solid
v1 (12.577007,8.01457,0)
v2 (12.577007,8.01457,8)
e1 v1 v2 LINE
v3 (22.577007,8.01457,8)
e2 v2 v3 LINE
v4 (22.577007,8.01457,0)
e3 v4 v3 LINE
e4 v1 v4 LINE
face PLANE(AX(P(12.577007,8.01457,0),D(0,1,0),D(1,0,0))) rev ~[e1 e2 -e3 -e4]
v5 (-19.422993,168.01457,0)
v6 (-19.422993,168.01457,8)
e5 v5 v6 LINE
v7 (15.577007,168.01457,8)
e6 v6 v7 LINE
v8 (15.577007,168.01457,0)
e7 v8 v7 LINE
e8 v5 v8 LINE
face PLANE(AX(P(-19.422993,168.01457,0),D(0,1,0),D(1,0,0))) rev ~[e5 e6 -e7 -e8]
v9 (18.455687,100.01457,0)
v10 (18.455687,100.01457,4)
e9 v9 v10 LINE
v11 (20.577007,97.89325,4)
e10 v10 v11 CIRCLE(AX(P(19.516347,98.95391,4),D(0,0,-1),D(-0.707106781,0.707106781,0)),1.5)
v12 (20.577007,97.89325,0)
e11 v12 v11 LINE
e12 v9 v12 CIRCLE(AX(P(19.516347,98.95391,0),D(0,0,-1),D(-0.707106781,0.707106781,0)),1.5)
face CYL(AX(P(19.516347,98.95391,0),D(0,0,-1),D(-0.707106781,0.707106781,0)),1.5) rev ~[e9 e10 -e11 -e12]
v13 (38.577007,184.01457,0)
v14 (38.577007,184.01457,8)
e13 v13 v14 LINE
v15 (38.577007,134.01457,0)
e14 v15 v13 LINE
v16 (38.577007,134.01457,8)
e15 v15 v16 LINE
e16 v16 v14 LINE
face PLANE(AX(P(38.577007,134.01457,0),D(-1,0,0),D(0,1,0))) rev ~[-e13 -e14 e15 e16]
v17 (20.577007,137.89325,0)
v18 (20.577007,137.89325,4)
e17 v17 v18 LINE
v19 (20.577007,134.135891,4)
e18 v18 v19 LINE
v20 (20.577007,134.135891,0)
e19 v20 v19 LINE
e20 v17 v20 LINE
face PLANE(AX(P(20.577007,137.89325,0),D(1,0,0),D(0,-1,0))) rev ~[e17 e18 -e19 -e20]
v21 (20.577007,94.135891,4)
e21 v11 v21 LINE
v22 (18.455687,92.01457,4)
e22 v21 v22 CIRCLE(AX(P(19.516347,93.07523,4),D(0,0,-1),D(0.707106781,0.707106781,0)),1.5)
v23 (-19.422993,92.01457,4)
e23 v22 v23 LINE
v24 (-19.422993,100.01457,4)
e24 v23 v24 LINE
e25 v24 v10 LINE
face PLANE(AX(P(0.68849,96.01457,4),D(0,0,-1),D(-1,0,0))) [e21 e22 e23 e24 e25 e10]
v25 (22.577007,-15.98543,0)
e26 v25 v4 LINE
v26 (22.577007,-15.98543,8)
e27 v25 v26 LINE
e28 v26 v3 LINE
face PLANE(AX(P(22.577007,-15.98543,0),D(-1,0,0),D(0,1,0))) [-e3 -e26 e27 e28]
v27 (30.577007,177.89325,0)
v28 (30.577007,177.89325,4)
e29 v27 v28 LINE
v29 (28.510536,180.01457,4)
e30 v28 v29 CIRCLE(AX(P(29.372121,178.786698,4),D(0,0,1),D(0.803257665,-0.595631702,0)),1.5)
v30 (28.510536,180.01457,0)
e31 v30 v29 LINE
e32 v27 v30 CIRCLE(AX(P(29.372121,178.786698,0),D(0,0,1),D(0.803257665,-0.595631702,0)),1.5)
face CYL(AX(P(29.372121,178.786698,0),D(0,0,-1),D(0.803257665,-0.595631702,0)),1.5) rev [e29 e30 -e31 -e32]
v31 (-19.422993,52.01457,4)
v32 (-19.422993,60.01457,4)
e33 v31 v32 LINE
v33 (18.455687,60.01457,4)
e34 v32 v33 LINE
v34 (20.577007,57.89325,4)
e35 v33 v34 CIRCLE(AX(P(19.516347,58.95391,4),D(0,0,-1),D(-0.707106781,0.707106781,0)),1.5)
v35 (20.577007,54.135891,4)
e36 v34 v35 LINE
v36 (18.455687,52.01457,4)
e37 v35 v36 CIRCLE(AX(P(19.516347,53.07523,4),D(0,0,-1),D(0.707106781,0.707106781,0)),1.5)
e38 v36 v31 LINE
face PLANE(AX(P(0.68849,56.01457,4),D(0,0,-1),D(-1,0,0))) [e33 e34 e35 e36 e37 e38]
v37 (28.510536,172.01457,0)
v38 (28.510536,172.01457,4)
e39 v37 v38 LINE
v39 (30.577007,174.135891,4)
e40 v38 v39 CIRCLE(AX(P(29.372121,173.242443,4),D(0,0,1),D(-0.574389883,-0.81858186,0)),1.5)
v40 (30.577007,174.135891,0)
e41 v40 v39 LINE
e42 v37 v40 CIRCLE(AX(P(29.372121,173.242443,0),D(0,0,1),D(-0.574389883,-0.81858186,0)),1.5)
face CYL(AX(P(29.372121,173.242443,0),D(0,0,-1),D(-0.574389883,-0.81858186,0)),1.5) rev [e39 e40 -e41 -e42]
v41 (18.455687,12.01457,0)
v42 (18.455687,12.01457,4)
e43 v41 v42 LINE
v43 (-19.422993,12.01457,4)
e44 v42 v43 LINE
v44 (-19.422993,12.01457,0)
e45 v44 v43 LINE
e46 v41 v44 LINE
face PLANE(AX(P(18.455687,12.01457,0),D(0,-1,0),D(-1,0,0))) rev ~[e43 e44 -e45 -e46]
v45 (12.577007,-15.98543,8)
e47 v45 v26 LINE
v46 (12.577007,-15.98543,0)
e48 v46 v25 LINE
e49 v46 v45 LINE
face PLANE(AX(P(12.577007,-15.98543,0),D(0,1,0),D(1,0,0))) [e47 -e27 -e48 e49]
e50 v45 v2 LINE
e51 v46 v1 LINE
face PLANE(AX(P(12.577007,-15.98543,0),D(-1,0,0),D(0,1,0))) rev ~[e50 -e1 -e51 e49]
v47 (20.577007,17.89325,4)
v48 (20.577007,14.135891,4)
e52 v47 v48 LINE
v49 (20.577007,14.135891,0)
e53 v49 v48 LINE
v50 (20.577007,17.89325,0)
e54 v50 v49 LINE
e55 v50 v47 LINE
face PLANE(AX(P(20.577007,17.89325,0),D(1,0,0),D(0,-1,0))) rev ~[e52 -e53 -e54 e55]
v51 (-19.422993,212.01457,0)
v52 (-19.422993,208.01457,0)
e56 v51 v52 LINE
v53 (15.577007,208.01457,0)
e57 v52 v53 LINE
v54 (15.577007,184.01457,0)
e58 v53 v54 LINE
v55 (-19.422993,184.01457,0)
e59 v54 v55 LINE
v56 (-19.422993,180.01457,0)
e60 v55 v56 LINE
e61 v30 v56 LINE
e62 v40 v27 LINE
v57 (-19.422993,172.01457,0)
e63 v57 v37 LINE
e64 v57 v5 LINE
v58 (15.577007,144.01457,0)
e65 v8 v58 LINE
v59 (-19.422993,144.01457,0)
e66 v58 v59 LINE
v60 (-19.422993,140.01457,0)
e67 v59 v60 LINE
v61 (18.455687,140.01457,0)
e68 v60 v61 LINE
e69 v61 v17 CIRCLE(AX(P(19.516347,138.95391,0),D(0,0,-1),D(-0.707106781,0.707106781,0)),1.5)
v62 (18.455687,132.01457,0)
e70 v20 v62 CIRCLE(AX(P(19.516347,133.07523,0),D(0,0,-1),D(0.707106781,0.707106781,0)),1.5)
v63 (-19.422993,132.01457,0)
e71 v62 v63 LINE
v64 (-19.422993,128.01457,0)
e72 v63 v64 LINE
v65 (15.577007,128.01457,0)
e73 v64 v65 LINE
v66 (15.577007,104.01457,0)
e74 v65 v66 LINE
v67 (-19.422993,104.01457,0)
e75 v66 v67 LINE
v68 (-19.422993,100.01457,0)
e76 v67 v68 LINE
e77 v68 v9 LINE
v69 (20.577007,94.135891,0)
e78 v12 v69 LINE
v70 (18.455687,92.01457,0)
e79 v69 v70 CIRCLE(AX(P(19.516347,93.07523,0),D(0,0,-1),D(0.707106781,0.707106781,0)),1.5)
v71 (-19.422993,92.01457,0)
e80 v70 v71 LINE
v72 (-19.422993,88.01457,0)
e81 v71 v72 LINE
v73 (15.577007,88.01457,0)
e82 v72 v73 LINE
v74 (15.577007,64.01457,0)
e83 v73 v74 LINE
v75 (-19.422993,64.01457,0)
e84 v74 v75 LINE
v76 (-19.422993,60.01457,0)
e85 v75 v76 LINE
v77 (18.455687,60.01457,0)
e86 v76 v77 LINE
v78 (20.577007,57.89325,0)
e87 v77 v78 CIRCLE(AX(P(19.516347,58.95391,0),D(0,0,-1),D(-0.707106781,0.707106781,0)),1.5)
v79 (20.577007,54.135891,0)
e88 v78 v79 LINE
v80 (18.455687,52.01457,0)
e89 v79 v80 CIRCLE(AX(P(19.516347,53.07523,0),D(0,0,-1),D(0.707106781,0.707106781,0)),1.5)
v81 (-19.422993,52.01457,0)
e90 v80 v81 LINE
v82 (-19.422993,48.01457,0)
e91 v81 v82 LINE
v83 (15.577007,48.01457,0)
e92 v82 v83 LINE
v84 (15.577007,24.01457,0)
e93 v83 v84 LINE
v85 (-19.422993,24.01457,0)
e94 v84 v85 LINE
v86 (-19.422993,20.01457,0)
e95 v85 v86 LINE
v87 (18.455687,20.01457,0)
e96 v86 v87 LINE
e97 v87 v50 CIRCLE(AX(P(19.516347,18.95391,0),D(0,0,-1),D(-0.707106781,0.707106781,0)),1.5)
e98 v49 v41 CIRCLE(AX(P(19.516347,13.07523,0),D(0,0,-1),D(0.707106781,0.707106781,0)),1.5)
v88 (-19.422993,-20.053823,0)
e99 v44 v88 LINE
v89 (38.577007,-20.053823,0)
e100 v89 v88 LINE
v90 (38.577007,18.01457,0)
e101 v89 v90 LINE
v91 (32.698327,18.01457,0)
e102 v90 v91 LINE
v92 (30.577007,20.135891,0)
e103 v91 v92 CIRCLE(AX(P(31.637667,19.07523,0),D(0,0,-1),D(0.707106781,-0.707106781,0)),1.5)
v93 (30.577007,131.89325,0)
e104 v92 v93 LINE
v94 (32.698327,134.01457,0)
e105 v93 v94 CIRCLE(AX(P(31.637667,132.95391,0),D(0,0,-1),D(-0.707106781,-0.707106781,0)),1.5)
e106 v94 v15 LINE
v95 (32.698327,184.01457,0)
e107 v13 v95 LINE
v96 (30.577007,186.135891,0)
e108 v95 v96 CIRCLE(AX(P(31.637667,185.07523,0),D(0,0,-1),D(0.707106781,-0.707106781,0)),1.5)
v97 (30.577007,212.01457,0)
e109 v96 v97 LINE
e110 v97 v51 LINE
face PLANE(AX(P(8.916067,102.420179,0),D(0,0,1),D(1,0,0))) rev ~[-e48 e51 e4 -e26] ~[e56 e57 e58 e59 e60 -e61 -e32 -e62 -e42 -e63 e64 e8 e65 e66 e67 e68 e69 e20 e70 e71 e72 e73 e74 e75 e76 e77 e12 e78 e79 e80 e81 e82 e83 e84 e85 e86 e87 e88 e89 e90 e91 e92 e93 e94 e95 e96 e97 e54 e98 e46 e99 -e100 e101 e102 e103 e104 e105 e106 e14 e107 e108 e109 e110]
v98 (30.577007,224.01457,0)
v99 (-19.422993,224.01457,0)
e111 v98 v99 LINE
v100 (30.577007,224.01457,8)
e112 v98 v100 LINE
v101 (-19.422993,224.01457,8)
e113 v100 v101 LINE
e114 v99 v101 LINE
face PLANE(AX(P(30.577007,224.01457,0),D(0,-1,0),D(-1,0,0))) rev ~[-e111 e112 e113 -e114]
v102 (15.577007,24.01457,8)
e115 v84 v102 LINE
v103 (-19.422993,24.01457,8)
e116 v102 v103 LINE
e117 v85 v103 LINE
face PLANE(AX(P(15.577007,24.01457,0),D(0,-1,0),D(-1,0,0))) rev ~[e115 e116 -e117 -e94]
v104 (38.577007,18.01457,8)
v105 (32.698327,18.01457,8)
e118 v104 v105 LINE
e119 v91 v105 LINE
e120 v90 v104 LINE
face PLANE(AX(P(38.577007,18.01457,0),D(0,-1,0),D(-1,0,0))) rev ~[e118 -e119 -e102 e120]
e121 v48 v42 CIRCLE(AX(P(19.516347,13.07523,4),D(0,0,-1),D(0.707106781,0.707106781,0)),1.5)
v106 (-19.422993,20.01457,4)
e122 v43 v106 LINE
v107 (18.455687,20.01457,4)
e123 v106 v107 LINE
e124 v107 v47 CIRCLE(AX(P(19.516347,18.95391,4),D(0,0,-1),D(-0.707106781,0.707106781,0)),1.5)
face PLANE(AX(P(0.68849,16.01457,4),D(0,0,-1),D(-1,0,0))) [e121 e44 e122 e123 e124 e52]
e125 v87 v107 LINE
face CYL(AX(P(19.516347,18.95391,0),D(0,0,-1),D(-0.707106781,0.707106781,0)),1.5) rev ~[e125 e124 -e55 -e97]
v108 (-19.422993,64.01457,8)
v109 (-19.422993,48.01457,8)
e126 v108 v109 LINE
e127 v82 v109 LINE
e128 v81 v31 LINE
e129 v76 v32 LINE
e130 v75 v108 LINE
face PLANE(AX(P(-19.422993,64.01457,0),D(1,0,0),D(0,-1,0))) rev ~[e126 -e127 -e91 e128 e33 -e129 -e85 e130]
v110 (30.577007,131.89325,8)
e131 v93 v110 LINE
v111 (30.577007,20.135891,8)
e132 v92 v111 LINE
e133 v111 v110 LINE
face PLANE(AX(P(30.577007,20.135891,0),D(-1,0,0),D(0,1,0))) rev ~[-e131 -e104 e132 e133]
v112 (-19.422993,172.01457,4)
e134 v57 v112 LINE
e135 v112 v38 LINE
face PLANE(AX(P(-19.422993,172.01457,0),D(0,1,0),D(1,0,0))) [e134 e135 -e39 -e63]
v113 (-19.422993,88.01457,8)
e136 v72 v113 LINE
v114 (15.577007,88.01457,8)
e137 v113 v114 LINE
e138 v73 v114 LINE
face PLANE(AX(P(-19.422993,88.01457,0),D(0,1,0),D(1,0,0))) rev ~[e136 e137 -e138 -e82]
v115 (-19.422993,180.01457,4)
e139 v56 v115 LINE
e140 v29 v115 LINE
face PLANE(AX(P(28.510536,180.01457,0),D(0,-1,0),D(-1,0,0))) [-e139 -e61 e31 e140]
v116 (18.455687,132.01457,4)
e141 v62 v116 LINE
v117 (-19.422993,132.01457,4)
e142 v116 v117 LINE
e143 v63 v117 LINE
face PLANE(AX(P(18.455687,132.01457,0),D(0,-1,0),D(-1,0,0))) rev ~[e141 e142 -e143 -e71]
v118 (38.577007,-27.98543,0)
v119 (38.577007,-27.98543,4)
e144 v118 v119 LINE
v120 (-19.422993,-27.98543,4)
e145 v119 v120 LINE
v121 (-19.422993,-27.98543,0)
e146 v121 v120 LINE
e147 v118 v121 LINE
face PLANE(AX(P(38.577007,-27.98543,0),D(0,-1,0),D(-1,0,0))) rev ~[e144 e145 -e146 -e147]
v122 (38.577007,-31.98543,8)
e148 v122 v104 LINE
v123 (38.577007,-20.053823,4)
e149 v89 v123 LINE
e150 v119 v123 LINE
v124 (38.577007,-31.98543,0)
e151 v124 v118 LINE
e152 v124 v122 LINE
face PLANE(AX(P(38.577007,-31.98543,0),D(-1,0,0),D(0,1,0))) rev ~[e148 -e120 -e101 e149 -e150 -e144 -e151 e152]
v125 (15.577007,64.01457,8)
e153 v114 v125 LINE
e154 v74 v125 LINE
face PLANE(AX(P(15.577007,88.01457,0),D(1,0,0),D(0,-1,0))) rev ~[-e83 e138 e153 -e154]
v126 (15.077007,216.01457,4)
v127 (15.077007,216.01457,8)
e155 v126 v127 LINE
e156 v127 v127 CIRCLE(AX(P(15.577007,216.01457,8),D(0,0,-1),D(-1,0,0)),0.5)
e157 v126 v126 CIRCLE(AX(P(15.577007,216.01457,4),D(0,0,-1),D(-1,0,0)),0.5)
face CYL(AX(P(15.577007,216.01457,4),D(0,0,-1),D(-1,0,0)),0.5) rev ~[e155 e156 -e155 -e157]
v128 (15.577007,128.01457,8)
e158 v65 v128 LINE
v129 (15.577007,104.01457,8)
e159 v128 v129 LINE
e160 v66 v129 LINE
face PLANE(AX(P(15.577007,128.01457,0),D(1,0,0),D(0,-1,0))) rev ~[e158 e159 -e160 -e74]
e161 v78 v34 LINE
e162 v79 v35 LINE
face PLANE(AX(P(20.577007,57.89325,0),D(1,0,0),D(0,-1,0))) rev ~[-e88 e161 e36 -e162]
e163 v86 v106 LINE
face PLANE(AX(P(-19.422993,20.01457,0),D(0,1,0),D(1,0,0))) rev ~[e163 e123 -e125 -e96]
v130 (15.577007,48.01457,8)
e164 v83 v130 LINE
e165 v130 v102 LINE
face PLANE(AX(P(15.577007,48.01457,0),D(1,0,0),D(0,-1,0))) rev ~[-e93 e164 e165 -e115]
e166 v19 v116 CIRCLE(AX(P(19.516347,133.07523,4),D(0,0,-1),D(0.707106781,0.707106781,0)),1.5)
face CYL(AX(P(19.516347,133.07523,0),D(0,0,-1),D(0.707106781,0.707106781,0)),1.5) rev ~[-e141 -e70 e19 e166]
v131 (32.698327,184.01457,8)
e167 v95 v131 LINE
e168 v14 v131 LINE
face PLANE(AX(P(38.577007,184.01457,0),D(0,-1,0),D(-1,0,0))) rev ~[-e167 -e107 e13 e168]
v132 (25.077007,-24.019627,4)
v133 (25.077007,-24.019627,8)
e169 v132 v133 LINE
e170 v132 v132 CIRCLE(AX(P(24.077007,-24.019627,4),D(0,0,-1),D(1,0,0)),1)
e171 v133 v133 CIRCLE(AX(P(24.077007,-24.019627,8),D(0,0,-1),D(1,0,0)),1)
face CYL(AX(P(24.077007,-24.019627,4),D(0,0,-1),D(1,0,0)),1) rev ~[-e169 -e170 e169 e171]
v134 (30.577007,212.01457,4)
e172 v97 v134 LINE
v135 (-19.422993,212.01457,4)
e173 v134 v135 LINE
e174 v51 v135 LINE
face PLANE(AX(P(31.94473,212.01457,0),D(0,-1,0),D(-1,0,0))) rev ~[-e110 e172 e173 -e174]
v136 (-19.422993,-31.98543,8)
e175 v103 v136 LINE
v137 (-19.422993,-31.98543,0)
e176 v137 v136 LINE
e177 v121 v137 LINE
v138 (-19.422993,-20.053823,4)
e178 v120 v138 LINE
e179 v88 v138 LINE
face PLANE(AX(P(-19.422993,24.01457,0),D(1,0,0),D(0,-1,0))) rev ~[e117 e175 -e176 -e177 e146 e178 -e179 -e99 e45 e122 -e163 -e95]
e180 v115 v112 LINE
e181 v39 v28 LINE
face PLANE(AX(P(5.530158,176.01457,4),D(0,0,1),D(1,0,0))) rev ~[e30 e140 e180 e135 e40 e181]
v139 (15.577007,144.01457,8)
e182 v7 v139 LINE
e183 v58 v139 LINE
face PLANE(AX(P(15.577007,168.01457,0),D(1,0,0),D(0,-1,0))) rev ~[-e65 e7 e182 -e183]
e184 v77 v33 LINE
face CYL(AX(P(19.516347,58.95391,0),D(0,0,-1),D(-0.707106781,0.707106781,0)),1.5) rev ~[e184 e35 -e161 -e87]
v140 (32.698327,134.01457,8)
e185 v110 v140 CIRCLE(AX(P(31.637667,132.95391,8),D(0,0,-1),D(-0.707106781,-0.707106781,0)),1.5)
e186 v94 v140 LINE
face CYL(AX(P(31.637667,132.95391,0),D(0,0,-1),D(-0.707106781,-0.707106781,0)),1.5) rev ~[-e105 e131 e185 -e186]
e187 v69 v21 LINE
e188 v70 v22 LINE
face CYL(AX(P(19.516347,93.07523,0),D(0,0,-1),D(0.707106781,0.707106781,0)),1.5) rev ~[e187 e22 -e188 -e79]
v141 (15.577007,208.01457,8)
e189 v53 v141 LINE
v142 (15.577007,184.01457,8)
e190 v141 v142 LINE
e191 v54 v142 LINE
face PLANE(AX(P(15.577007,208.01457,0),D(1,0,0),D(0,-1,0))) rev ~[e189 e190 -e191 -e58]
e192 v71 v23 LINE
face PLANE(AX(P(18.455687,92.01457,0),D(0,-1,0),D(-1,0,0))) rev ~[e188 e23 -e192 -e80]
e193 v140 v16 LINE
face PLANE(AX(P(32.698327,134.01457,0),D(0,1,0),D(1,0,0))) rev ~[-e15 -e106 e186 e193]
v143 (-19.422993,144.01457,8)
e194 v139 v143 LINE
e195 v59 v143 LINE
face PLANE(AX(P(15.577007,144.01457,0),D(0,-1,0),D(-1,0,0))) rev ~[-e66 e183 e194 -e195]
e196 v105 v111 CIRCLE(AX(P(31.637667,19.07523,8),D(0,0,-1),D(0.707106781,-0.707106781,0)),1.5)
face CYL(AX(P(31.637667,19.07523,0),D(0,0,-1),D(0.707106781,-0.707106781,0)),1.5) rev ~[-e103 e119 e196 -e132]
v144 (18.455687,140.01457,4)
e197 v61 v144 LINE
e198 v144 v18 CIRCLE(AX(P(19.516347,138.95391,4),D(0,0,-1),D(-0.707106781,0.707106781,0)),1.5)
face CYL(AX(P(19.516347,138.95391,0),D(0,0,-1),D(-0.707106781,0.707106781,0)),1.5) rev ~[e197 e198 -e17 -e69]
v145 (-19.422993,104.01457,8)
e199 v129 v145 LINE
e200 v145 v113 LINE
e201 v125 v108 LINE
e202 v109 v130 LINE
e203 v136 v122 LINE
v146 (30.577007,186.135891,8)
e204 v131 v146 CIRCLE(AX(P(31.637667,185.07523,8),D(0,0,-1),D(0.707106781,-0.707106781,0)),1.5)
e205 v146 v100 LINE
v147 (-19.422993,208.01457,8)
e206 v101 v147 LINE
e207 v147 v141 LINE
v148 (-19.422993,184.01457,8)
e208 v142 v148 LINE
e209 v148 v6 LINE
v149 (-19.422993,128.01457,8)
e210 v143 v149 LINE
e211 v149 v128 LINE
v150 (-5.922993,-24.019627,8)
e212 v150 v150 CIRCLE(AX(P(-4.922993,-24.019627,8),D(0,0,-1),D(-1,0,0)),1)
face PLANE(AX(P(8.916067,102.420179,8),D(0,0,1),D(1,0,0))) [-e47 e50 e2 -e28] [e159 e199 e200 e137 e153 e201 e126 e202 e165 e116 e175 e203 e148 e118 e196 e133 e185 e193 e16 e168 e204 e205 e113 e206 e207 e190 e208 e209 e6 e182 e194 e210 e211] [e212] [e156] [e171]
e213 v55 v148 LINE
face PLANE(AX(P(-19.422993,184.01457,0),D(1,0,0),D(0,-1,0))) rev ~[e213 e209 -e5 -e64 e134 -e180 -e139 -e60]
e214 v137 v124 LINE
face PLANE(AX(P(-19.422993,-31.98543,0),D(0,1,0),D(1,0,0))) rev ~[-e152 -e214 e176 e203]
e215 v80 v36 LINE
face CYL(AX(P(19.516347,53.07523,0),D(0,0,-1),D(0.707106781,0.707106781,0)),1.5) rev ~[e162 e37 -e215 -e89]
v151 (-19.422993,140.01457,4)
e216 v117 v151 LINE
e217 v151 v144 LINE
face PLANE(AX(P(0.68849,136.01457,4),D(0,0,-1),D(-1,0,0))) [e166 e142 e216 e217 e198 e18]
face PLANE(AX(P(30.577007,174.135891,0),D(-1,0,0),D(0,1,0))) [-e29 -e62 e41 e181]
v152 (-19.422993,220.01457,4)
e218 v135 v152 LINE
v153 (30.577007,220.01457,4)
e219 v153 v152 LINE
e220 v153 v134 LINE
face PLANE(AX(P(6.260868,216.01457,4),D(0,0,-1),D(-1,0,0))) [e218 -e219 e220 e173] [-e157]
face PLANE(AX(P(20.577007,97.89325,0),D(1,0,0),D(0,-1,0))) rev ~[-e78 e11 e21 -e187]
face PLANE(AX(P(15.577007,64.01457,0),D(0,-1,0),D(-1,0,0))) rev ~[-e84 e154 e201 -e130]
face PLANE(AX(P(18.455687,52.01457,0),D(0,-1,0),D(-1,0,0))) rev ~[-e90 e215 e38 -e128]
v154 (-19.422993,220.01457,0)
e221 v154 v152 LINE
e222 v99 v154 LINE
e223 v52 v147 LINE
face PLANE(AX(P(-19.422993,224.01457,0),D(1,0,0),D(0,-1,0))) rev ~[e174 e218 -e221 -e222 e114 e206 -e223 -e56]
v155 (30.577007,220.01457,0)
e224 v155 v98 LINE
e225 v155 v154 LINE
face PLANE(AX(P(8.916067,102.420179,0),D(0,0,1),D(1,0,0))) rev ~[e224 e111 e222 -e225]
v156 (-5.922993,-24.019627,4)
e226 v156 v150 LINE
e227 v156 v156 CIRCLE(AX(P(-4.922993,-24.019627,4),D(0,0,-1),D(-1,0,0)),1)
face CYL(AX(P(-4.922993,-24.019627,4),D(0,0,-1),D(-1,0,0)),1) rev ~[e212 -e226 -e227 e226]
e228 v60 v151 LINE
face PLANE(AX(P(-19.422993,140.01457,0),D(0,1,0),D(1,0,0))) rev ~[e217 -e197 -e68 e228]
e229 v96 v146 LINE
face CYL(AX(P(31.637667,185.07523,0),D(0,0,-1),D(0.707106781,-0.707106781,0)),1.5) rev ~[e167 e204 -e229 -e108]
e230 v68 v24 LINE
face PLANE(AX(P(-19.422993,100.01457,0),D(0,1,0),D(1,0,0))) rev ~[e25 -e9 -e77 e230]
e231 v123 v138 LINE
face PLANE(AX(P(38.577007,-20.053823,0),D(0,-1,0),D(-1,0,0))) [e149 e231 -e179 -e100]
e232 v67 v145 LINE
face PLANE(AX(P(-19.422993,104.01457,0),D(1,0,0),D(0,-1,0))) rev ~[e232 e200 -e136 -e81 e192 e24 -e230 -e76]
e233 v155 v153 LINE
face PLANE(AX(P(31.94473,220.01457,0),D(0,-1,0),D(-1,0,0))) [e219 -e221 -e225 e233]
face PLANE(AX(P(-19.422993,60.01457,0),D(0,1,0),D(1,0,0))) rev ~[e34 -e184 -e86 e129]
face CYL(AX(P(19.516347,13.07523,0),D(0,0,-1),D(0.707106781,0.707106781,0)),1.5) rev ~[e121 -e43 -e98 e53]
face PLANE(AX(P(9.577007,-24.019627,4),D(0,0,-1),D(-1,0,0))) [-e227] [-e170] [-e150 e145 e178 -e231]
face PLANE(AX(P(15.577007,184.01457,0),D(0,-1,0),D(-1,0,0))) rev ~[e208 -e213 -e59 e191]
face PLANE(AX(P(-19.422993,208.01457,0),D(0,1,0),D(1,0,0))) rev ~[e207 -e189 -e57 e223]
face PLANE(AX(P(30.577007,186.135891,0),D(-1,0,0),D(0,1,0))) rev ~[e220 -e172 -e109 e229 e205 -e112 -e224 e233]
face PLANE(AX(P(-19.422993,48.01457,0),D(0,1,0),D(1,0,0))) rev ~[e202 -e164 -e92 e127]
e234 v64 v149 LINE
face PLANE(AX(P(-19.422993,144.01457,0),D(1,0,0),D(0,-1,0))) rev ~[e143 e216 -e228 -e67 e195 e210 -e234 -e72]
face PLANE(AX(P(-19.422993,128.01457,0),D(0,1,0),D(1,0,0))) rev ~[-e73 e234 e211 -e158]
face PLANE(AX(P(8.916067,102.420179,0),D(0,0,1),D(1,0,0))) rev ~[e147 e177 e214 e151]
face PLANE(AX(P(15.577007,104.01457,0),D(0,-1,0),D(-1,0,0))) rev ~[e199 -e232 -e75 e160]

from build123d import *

# Parameters (mm, degrees)
ESQUISSE1_W             = 10
ESQUISSE1_H             = 24
BOSS_EXTRU_1_DEPTH      = 8
ESQUISSE2_W             = 51.367722688
ESQUISSE2_H             = 8
ESQUISSE2_W_2           = 58
ESQUISSE2_H_2           = 7.931606273
ENL_V_MAT_EXTRU_1_DEPTH = 4
ESQUISSE3_R             = 0.5
ESQUISSE3_R_2           = 1
ENL_V_MAT_EXTRU_2_DEPTH = 4


with BuildPart() as part:
    # Esquisse1 → Boss.-Extru.1 (new body)
    with BuildSketch(Plane.XY):
        with BuildLine():
            Line((30.577007139, 186.135890651), (30.577007139, 224.014570308))
            Line((30.577007139, 224.014570308), (-19.422992861, 224.014570308))
            Line((-19.422992861, 224.014570308), (-19.422992861, 208.014570308))
            Line((-19.422992861, 208.014570308), (15.577007139, 208.014570308))
            Line((15.577007139, 208.014570308), (15.577007139, 184.014570308))
            Line((15.577007139, 184.014570308), (-19.422992861, 184.014570308))
            Line((-19.422992861, 184.014570308), (-19.422992861, 168.014570308))
            Line((-19.422992861, 168.014570308), (15.577007139, 168.014570308))
            Line((15.577007139, 168.014570308), (15.577007139, 144.014570308))
            Line((15.577007139, 144.014570308), (-19.422992861, 144.014570308))
            Line((-19.422992861, 144.014570308), (-19.422992861, 128.014570308))
            Line((-19.422992861, 128.014570308), (15.577007139, 128.014570308))
            Line((15.577007139, 128.014570308), (15.577007139, 104.014570308))
            Line((15.577007139, 104.014570308), (-19.422992861, 104.014570308))
            Line((-19.422992861, 104.014570308), (-19.422992861, 88.014570308))
            Line((-19.422992861, 88.014570308), (15.577007139, 88.014570308))
            Line((15.577007139, 88.014570308), (15.577007139, 64.014570308))
            Line((15.577007139, 64.014570308), (-19.422992861, 64.014570308))
            Line((-19.422992861, 64.014570308), (-19.422992861, 48.014570308))
            Line((-19.422992861, 48.014570308), (15.577007139, 48.014570308))
            Line((15.577007139, 48.014570308), (15.577007139, 24.014570308))
            Line((15.577007139, 24.014570308), (-19.422992861, 24.014570308))
            Line((-19.422992861, 24.014570308), (-19.422992861, -31.985429692))
            Line((-19.422992861, -31.985429692), (30.577007139, -31.985429692))
            Line((30.577007139, -31.985429692), (38.577007139, -31.985429692))
            Line((38.577007139, -31.985429692), (38.577007139, 18.014570308))
            Line((38.577007139, 18.014570308), (32.698327483, 18.014570308))
            ThreePointArc((32.698327483, 18.014570308), (30.577007139, 18.014570308), (30.577007139, 20.135890651))
            Line((30.577007139, 20.135890651), (30.577007139, 131.893249964))
            ThreePointArc((30.577007139, 131.893249964), (30.577007139, 134.014570308), (32.698327483, 134.014570308))
            Line((32.698327483, 134.014570308), (38.577007139, 134.014570308))
            Line((38.577007139, 134.014570308), (38.577007139, 184.014570308))
            Line((38.577007139, 184.014570308), (32.698327483, 184.014570308))
            ThreePointArc((32.698327483, 184.014570308), (30.577007139, 184.014570308), (30.577007139, 186.135890651))
        make_face()
        with Locations((17.577007139, -3.985429692)):
            Rectangle(ESQUISSE1_W, ESQUISSE1_H, mode=Mode.SUBTRACT)
    extrude(amount=BOSS_EXTRU_1_DEPTH)

    # Esquisse2 → Enlèv. mat.-Extru.1 (cut)
    with BuildSketch(Plane(origin=(0, 0, 0), x_dir=(-1, 0, 0), z_dir=(0, 0, -1))):
        with BuildLine():
            Line((19.422992861, 172.014570308), (-28.510535818, 172.014570308))
            ThreePointArc((-28.510535818, 172.014570308), (-30.446580511, 172.195764547), (-30.577007139, 174.135890651))
            Line((-30.577007139, 174.135890651), (-30.577007139, 177.893249964))
            ThreePointArc((-30.577007139, 177.893249964), (-30.446580511, 179.833376068), (-28.510535818, 180.014570308))
            Line((-28.510535818, 180.014570308), (19.422992861, 180.014570308))
            Line((19.422992861, 180.014570308), (19.422992861, 172.014570308))
        make_face()
        with BuildLine():
            Line((19.422992861, 140.014570308), (-18.455686796, 140.014570308))
            ThreePointArc((-18.455686796, 140.014570308), (-20.577007139, 140.014570308), (-20.577007139, 137.893249964))
            Line((-20.577007139, 137.893249964), (-20.577007139, 134.135890651))
            ThreePointArc((-20.577007139, 134.135890651), (-20.577007139, 132.014570308), (-18.455686796, 132.014570308))
            Line((-18.455686796, 132.014570308), (19.422992861, 132.014570308))
            Line((19.422992861, 132.014570308), (19.422992861, 140.014570308))
        make_face()
        with BuildLine():
            Line((19.422992861, 100.014570308), (-18.455686796, 100.014570308))
            ThreePointArc((-18.455686796, 100.014570308), (-20.577007139, 100.014570308), (-20.577007139, 97.893249964))
            Line((-20.577007139, 97.893249964), (-20.577007139, 94.135890651))
            ThreePointArc((-20.577007139, 94.135890651), (-20.577007139, 92.014570308), (-18.455686796, 92.014570308))
            Line((-18.455686796, 92.014570308), (19.422992861, 92.014570308))
            Line((19.422992861, 92.014570308), (19.422992861, 100.014570308))
        make_face()
        with BuildLine():
            Line((19.422992861, 60.014570308), (-18.455686796, 60.014570308))
            ThreePointArc((-18.455686796, 60.014570308), (-20.577007139, 60.014570308), (-20.577007139, 57.893249964))
            Line((-20.577007139, 57.893249964), (-20.577007139, 54.135890651))
            ThreePointArc((-20.577007139, 54.135890651), (-20.577007139, 52.014570308), (-18.455686796, 52.014570308))
            Line((-18.455686796, 52.014570308), (19.422992861, 52.014570308))
            Line((19.422992861, 52.014570308), (19.422992861, 60.014570308))
        make_face()
        with BuildLine():
            Line((19.422992861, 20.014570308), (-18.455686796, 20.014570308))
            ThreePointArc((-18.455686796, 20.014570308), (-20.577007139, 20.014570308), (-20.577007139, 17.893249964))
            Line((-20.577007139, 17.893249964), (-20.577007139, 14.135890651))
            ThreePointArc((-20.577007139, 14.135890651), (-20.577007139, 12.014570308), (-18.455686796, 12.014570308))
            Line((-18.455686796, 12.014570308), (19.422992861, 12.014570308))
            Line((19.422992861, 12.014570308), (19.422992861, 20.014570308))
        make_face()
        with Locations((-6.260868483, 216.014570308)):
            Rectangle(ESQUISSE2_W, ESQUISSE2_H)
        with Locations((-9.577007139, -24.019626556)):
            Rectangle(ESQUISSE2_W_2, ESQUISSE2_H_2)
    extrude(amount=-ENL_V_MAT_EXTRU_1_DEPTH, mode=Mode.SUBTRACT)

    # Esquisse3 → Enlèv. mat.-Extru.2 (cut)
    with BuildSketch(Plane(origin=(0, 0, 4), x_dir=(-1, 0, 0), z_dir=(0, 0, -1))):
        with Locations((-15.577007139, 216.014570308)):
            Circle(ESQUISSE3_R)
        with Locations((4.922992861, -24.019626556)):
            Circle(ESQUISSE3_R_2)
        with Locations(Location((-24.077007139, -24.019626556, 0), (0, 0, 180))):
            Circle(ESQUISSE3_R_2)
    extrude(amount=-ENL_V_MAT_EXTRU_2_DEPTH, mode=Mode.SUBTRACT)


solid = part.part
